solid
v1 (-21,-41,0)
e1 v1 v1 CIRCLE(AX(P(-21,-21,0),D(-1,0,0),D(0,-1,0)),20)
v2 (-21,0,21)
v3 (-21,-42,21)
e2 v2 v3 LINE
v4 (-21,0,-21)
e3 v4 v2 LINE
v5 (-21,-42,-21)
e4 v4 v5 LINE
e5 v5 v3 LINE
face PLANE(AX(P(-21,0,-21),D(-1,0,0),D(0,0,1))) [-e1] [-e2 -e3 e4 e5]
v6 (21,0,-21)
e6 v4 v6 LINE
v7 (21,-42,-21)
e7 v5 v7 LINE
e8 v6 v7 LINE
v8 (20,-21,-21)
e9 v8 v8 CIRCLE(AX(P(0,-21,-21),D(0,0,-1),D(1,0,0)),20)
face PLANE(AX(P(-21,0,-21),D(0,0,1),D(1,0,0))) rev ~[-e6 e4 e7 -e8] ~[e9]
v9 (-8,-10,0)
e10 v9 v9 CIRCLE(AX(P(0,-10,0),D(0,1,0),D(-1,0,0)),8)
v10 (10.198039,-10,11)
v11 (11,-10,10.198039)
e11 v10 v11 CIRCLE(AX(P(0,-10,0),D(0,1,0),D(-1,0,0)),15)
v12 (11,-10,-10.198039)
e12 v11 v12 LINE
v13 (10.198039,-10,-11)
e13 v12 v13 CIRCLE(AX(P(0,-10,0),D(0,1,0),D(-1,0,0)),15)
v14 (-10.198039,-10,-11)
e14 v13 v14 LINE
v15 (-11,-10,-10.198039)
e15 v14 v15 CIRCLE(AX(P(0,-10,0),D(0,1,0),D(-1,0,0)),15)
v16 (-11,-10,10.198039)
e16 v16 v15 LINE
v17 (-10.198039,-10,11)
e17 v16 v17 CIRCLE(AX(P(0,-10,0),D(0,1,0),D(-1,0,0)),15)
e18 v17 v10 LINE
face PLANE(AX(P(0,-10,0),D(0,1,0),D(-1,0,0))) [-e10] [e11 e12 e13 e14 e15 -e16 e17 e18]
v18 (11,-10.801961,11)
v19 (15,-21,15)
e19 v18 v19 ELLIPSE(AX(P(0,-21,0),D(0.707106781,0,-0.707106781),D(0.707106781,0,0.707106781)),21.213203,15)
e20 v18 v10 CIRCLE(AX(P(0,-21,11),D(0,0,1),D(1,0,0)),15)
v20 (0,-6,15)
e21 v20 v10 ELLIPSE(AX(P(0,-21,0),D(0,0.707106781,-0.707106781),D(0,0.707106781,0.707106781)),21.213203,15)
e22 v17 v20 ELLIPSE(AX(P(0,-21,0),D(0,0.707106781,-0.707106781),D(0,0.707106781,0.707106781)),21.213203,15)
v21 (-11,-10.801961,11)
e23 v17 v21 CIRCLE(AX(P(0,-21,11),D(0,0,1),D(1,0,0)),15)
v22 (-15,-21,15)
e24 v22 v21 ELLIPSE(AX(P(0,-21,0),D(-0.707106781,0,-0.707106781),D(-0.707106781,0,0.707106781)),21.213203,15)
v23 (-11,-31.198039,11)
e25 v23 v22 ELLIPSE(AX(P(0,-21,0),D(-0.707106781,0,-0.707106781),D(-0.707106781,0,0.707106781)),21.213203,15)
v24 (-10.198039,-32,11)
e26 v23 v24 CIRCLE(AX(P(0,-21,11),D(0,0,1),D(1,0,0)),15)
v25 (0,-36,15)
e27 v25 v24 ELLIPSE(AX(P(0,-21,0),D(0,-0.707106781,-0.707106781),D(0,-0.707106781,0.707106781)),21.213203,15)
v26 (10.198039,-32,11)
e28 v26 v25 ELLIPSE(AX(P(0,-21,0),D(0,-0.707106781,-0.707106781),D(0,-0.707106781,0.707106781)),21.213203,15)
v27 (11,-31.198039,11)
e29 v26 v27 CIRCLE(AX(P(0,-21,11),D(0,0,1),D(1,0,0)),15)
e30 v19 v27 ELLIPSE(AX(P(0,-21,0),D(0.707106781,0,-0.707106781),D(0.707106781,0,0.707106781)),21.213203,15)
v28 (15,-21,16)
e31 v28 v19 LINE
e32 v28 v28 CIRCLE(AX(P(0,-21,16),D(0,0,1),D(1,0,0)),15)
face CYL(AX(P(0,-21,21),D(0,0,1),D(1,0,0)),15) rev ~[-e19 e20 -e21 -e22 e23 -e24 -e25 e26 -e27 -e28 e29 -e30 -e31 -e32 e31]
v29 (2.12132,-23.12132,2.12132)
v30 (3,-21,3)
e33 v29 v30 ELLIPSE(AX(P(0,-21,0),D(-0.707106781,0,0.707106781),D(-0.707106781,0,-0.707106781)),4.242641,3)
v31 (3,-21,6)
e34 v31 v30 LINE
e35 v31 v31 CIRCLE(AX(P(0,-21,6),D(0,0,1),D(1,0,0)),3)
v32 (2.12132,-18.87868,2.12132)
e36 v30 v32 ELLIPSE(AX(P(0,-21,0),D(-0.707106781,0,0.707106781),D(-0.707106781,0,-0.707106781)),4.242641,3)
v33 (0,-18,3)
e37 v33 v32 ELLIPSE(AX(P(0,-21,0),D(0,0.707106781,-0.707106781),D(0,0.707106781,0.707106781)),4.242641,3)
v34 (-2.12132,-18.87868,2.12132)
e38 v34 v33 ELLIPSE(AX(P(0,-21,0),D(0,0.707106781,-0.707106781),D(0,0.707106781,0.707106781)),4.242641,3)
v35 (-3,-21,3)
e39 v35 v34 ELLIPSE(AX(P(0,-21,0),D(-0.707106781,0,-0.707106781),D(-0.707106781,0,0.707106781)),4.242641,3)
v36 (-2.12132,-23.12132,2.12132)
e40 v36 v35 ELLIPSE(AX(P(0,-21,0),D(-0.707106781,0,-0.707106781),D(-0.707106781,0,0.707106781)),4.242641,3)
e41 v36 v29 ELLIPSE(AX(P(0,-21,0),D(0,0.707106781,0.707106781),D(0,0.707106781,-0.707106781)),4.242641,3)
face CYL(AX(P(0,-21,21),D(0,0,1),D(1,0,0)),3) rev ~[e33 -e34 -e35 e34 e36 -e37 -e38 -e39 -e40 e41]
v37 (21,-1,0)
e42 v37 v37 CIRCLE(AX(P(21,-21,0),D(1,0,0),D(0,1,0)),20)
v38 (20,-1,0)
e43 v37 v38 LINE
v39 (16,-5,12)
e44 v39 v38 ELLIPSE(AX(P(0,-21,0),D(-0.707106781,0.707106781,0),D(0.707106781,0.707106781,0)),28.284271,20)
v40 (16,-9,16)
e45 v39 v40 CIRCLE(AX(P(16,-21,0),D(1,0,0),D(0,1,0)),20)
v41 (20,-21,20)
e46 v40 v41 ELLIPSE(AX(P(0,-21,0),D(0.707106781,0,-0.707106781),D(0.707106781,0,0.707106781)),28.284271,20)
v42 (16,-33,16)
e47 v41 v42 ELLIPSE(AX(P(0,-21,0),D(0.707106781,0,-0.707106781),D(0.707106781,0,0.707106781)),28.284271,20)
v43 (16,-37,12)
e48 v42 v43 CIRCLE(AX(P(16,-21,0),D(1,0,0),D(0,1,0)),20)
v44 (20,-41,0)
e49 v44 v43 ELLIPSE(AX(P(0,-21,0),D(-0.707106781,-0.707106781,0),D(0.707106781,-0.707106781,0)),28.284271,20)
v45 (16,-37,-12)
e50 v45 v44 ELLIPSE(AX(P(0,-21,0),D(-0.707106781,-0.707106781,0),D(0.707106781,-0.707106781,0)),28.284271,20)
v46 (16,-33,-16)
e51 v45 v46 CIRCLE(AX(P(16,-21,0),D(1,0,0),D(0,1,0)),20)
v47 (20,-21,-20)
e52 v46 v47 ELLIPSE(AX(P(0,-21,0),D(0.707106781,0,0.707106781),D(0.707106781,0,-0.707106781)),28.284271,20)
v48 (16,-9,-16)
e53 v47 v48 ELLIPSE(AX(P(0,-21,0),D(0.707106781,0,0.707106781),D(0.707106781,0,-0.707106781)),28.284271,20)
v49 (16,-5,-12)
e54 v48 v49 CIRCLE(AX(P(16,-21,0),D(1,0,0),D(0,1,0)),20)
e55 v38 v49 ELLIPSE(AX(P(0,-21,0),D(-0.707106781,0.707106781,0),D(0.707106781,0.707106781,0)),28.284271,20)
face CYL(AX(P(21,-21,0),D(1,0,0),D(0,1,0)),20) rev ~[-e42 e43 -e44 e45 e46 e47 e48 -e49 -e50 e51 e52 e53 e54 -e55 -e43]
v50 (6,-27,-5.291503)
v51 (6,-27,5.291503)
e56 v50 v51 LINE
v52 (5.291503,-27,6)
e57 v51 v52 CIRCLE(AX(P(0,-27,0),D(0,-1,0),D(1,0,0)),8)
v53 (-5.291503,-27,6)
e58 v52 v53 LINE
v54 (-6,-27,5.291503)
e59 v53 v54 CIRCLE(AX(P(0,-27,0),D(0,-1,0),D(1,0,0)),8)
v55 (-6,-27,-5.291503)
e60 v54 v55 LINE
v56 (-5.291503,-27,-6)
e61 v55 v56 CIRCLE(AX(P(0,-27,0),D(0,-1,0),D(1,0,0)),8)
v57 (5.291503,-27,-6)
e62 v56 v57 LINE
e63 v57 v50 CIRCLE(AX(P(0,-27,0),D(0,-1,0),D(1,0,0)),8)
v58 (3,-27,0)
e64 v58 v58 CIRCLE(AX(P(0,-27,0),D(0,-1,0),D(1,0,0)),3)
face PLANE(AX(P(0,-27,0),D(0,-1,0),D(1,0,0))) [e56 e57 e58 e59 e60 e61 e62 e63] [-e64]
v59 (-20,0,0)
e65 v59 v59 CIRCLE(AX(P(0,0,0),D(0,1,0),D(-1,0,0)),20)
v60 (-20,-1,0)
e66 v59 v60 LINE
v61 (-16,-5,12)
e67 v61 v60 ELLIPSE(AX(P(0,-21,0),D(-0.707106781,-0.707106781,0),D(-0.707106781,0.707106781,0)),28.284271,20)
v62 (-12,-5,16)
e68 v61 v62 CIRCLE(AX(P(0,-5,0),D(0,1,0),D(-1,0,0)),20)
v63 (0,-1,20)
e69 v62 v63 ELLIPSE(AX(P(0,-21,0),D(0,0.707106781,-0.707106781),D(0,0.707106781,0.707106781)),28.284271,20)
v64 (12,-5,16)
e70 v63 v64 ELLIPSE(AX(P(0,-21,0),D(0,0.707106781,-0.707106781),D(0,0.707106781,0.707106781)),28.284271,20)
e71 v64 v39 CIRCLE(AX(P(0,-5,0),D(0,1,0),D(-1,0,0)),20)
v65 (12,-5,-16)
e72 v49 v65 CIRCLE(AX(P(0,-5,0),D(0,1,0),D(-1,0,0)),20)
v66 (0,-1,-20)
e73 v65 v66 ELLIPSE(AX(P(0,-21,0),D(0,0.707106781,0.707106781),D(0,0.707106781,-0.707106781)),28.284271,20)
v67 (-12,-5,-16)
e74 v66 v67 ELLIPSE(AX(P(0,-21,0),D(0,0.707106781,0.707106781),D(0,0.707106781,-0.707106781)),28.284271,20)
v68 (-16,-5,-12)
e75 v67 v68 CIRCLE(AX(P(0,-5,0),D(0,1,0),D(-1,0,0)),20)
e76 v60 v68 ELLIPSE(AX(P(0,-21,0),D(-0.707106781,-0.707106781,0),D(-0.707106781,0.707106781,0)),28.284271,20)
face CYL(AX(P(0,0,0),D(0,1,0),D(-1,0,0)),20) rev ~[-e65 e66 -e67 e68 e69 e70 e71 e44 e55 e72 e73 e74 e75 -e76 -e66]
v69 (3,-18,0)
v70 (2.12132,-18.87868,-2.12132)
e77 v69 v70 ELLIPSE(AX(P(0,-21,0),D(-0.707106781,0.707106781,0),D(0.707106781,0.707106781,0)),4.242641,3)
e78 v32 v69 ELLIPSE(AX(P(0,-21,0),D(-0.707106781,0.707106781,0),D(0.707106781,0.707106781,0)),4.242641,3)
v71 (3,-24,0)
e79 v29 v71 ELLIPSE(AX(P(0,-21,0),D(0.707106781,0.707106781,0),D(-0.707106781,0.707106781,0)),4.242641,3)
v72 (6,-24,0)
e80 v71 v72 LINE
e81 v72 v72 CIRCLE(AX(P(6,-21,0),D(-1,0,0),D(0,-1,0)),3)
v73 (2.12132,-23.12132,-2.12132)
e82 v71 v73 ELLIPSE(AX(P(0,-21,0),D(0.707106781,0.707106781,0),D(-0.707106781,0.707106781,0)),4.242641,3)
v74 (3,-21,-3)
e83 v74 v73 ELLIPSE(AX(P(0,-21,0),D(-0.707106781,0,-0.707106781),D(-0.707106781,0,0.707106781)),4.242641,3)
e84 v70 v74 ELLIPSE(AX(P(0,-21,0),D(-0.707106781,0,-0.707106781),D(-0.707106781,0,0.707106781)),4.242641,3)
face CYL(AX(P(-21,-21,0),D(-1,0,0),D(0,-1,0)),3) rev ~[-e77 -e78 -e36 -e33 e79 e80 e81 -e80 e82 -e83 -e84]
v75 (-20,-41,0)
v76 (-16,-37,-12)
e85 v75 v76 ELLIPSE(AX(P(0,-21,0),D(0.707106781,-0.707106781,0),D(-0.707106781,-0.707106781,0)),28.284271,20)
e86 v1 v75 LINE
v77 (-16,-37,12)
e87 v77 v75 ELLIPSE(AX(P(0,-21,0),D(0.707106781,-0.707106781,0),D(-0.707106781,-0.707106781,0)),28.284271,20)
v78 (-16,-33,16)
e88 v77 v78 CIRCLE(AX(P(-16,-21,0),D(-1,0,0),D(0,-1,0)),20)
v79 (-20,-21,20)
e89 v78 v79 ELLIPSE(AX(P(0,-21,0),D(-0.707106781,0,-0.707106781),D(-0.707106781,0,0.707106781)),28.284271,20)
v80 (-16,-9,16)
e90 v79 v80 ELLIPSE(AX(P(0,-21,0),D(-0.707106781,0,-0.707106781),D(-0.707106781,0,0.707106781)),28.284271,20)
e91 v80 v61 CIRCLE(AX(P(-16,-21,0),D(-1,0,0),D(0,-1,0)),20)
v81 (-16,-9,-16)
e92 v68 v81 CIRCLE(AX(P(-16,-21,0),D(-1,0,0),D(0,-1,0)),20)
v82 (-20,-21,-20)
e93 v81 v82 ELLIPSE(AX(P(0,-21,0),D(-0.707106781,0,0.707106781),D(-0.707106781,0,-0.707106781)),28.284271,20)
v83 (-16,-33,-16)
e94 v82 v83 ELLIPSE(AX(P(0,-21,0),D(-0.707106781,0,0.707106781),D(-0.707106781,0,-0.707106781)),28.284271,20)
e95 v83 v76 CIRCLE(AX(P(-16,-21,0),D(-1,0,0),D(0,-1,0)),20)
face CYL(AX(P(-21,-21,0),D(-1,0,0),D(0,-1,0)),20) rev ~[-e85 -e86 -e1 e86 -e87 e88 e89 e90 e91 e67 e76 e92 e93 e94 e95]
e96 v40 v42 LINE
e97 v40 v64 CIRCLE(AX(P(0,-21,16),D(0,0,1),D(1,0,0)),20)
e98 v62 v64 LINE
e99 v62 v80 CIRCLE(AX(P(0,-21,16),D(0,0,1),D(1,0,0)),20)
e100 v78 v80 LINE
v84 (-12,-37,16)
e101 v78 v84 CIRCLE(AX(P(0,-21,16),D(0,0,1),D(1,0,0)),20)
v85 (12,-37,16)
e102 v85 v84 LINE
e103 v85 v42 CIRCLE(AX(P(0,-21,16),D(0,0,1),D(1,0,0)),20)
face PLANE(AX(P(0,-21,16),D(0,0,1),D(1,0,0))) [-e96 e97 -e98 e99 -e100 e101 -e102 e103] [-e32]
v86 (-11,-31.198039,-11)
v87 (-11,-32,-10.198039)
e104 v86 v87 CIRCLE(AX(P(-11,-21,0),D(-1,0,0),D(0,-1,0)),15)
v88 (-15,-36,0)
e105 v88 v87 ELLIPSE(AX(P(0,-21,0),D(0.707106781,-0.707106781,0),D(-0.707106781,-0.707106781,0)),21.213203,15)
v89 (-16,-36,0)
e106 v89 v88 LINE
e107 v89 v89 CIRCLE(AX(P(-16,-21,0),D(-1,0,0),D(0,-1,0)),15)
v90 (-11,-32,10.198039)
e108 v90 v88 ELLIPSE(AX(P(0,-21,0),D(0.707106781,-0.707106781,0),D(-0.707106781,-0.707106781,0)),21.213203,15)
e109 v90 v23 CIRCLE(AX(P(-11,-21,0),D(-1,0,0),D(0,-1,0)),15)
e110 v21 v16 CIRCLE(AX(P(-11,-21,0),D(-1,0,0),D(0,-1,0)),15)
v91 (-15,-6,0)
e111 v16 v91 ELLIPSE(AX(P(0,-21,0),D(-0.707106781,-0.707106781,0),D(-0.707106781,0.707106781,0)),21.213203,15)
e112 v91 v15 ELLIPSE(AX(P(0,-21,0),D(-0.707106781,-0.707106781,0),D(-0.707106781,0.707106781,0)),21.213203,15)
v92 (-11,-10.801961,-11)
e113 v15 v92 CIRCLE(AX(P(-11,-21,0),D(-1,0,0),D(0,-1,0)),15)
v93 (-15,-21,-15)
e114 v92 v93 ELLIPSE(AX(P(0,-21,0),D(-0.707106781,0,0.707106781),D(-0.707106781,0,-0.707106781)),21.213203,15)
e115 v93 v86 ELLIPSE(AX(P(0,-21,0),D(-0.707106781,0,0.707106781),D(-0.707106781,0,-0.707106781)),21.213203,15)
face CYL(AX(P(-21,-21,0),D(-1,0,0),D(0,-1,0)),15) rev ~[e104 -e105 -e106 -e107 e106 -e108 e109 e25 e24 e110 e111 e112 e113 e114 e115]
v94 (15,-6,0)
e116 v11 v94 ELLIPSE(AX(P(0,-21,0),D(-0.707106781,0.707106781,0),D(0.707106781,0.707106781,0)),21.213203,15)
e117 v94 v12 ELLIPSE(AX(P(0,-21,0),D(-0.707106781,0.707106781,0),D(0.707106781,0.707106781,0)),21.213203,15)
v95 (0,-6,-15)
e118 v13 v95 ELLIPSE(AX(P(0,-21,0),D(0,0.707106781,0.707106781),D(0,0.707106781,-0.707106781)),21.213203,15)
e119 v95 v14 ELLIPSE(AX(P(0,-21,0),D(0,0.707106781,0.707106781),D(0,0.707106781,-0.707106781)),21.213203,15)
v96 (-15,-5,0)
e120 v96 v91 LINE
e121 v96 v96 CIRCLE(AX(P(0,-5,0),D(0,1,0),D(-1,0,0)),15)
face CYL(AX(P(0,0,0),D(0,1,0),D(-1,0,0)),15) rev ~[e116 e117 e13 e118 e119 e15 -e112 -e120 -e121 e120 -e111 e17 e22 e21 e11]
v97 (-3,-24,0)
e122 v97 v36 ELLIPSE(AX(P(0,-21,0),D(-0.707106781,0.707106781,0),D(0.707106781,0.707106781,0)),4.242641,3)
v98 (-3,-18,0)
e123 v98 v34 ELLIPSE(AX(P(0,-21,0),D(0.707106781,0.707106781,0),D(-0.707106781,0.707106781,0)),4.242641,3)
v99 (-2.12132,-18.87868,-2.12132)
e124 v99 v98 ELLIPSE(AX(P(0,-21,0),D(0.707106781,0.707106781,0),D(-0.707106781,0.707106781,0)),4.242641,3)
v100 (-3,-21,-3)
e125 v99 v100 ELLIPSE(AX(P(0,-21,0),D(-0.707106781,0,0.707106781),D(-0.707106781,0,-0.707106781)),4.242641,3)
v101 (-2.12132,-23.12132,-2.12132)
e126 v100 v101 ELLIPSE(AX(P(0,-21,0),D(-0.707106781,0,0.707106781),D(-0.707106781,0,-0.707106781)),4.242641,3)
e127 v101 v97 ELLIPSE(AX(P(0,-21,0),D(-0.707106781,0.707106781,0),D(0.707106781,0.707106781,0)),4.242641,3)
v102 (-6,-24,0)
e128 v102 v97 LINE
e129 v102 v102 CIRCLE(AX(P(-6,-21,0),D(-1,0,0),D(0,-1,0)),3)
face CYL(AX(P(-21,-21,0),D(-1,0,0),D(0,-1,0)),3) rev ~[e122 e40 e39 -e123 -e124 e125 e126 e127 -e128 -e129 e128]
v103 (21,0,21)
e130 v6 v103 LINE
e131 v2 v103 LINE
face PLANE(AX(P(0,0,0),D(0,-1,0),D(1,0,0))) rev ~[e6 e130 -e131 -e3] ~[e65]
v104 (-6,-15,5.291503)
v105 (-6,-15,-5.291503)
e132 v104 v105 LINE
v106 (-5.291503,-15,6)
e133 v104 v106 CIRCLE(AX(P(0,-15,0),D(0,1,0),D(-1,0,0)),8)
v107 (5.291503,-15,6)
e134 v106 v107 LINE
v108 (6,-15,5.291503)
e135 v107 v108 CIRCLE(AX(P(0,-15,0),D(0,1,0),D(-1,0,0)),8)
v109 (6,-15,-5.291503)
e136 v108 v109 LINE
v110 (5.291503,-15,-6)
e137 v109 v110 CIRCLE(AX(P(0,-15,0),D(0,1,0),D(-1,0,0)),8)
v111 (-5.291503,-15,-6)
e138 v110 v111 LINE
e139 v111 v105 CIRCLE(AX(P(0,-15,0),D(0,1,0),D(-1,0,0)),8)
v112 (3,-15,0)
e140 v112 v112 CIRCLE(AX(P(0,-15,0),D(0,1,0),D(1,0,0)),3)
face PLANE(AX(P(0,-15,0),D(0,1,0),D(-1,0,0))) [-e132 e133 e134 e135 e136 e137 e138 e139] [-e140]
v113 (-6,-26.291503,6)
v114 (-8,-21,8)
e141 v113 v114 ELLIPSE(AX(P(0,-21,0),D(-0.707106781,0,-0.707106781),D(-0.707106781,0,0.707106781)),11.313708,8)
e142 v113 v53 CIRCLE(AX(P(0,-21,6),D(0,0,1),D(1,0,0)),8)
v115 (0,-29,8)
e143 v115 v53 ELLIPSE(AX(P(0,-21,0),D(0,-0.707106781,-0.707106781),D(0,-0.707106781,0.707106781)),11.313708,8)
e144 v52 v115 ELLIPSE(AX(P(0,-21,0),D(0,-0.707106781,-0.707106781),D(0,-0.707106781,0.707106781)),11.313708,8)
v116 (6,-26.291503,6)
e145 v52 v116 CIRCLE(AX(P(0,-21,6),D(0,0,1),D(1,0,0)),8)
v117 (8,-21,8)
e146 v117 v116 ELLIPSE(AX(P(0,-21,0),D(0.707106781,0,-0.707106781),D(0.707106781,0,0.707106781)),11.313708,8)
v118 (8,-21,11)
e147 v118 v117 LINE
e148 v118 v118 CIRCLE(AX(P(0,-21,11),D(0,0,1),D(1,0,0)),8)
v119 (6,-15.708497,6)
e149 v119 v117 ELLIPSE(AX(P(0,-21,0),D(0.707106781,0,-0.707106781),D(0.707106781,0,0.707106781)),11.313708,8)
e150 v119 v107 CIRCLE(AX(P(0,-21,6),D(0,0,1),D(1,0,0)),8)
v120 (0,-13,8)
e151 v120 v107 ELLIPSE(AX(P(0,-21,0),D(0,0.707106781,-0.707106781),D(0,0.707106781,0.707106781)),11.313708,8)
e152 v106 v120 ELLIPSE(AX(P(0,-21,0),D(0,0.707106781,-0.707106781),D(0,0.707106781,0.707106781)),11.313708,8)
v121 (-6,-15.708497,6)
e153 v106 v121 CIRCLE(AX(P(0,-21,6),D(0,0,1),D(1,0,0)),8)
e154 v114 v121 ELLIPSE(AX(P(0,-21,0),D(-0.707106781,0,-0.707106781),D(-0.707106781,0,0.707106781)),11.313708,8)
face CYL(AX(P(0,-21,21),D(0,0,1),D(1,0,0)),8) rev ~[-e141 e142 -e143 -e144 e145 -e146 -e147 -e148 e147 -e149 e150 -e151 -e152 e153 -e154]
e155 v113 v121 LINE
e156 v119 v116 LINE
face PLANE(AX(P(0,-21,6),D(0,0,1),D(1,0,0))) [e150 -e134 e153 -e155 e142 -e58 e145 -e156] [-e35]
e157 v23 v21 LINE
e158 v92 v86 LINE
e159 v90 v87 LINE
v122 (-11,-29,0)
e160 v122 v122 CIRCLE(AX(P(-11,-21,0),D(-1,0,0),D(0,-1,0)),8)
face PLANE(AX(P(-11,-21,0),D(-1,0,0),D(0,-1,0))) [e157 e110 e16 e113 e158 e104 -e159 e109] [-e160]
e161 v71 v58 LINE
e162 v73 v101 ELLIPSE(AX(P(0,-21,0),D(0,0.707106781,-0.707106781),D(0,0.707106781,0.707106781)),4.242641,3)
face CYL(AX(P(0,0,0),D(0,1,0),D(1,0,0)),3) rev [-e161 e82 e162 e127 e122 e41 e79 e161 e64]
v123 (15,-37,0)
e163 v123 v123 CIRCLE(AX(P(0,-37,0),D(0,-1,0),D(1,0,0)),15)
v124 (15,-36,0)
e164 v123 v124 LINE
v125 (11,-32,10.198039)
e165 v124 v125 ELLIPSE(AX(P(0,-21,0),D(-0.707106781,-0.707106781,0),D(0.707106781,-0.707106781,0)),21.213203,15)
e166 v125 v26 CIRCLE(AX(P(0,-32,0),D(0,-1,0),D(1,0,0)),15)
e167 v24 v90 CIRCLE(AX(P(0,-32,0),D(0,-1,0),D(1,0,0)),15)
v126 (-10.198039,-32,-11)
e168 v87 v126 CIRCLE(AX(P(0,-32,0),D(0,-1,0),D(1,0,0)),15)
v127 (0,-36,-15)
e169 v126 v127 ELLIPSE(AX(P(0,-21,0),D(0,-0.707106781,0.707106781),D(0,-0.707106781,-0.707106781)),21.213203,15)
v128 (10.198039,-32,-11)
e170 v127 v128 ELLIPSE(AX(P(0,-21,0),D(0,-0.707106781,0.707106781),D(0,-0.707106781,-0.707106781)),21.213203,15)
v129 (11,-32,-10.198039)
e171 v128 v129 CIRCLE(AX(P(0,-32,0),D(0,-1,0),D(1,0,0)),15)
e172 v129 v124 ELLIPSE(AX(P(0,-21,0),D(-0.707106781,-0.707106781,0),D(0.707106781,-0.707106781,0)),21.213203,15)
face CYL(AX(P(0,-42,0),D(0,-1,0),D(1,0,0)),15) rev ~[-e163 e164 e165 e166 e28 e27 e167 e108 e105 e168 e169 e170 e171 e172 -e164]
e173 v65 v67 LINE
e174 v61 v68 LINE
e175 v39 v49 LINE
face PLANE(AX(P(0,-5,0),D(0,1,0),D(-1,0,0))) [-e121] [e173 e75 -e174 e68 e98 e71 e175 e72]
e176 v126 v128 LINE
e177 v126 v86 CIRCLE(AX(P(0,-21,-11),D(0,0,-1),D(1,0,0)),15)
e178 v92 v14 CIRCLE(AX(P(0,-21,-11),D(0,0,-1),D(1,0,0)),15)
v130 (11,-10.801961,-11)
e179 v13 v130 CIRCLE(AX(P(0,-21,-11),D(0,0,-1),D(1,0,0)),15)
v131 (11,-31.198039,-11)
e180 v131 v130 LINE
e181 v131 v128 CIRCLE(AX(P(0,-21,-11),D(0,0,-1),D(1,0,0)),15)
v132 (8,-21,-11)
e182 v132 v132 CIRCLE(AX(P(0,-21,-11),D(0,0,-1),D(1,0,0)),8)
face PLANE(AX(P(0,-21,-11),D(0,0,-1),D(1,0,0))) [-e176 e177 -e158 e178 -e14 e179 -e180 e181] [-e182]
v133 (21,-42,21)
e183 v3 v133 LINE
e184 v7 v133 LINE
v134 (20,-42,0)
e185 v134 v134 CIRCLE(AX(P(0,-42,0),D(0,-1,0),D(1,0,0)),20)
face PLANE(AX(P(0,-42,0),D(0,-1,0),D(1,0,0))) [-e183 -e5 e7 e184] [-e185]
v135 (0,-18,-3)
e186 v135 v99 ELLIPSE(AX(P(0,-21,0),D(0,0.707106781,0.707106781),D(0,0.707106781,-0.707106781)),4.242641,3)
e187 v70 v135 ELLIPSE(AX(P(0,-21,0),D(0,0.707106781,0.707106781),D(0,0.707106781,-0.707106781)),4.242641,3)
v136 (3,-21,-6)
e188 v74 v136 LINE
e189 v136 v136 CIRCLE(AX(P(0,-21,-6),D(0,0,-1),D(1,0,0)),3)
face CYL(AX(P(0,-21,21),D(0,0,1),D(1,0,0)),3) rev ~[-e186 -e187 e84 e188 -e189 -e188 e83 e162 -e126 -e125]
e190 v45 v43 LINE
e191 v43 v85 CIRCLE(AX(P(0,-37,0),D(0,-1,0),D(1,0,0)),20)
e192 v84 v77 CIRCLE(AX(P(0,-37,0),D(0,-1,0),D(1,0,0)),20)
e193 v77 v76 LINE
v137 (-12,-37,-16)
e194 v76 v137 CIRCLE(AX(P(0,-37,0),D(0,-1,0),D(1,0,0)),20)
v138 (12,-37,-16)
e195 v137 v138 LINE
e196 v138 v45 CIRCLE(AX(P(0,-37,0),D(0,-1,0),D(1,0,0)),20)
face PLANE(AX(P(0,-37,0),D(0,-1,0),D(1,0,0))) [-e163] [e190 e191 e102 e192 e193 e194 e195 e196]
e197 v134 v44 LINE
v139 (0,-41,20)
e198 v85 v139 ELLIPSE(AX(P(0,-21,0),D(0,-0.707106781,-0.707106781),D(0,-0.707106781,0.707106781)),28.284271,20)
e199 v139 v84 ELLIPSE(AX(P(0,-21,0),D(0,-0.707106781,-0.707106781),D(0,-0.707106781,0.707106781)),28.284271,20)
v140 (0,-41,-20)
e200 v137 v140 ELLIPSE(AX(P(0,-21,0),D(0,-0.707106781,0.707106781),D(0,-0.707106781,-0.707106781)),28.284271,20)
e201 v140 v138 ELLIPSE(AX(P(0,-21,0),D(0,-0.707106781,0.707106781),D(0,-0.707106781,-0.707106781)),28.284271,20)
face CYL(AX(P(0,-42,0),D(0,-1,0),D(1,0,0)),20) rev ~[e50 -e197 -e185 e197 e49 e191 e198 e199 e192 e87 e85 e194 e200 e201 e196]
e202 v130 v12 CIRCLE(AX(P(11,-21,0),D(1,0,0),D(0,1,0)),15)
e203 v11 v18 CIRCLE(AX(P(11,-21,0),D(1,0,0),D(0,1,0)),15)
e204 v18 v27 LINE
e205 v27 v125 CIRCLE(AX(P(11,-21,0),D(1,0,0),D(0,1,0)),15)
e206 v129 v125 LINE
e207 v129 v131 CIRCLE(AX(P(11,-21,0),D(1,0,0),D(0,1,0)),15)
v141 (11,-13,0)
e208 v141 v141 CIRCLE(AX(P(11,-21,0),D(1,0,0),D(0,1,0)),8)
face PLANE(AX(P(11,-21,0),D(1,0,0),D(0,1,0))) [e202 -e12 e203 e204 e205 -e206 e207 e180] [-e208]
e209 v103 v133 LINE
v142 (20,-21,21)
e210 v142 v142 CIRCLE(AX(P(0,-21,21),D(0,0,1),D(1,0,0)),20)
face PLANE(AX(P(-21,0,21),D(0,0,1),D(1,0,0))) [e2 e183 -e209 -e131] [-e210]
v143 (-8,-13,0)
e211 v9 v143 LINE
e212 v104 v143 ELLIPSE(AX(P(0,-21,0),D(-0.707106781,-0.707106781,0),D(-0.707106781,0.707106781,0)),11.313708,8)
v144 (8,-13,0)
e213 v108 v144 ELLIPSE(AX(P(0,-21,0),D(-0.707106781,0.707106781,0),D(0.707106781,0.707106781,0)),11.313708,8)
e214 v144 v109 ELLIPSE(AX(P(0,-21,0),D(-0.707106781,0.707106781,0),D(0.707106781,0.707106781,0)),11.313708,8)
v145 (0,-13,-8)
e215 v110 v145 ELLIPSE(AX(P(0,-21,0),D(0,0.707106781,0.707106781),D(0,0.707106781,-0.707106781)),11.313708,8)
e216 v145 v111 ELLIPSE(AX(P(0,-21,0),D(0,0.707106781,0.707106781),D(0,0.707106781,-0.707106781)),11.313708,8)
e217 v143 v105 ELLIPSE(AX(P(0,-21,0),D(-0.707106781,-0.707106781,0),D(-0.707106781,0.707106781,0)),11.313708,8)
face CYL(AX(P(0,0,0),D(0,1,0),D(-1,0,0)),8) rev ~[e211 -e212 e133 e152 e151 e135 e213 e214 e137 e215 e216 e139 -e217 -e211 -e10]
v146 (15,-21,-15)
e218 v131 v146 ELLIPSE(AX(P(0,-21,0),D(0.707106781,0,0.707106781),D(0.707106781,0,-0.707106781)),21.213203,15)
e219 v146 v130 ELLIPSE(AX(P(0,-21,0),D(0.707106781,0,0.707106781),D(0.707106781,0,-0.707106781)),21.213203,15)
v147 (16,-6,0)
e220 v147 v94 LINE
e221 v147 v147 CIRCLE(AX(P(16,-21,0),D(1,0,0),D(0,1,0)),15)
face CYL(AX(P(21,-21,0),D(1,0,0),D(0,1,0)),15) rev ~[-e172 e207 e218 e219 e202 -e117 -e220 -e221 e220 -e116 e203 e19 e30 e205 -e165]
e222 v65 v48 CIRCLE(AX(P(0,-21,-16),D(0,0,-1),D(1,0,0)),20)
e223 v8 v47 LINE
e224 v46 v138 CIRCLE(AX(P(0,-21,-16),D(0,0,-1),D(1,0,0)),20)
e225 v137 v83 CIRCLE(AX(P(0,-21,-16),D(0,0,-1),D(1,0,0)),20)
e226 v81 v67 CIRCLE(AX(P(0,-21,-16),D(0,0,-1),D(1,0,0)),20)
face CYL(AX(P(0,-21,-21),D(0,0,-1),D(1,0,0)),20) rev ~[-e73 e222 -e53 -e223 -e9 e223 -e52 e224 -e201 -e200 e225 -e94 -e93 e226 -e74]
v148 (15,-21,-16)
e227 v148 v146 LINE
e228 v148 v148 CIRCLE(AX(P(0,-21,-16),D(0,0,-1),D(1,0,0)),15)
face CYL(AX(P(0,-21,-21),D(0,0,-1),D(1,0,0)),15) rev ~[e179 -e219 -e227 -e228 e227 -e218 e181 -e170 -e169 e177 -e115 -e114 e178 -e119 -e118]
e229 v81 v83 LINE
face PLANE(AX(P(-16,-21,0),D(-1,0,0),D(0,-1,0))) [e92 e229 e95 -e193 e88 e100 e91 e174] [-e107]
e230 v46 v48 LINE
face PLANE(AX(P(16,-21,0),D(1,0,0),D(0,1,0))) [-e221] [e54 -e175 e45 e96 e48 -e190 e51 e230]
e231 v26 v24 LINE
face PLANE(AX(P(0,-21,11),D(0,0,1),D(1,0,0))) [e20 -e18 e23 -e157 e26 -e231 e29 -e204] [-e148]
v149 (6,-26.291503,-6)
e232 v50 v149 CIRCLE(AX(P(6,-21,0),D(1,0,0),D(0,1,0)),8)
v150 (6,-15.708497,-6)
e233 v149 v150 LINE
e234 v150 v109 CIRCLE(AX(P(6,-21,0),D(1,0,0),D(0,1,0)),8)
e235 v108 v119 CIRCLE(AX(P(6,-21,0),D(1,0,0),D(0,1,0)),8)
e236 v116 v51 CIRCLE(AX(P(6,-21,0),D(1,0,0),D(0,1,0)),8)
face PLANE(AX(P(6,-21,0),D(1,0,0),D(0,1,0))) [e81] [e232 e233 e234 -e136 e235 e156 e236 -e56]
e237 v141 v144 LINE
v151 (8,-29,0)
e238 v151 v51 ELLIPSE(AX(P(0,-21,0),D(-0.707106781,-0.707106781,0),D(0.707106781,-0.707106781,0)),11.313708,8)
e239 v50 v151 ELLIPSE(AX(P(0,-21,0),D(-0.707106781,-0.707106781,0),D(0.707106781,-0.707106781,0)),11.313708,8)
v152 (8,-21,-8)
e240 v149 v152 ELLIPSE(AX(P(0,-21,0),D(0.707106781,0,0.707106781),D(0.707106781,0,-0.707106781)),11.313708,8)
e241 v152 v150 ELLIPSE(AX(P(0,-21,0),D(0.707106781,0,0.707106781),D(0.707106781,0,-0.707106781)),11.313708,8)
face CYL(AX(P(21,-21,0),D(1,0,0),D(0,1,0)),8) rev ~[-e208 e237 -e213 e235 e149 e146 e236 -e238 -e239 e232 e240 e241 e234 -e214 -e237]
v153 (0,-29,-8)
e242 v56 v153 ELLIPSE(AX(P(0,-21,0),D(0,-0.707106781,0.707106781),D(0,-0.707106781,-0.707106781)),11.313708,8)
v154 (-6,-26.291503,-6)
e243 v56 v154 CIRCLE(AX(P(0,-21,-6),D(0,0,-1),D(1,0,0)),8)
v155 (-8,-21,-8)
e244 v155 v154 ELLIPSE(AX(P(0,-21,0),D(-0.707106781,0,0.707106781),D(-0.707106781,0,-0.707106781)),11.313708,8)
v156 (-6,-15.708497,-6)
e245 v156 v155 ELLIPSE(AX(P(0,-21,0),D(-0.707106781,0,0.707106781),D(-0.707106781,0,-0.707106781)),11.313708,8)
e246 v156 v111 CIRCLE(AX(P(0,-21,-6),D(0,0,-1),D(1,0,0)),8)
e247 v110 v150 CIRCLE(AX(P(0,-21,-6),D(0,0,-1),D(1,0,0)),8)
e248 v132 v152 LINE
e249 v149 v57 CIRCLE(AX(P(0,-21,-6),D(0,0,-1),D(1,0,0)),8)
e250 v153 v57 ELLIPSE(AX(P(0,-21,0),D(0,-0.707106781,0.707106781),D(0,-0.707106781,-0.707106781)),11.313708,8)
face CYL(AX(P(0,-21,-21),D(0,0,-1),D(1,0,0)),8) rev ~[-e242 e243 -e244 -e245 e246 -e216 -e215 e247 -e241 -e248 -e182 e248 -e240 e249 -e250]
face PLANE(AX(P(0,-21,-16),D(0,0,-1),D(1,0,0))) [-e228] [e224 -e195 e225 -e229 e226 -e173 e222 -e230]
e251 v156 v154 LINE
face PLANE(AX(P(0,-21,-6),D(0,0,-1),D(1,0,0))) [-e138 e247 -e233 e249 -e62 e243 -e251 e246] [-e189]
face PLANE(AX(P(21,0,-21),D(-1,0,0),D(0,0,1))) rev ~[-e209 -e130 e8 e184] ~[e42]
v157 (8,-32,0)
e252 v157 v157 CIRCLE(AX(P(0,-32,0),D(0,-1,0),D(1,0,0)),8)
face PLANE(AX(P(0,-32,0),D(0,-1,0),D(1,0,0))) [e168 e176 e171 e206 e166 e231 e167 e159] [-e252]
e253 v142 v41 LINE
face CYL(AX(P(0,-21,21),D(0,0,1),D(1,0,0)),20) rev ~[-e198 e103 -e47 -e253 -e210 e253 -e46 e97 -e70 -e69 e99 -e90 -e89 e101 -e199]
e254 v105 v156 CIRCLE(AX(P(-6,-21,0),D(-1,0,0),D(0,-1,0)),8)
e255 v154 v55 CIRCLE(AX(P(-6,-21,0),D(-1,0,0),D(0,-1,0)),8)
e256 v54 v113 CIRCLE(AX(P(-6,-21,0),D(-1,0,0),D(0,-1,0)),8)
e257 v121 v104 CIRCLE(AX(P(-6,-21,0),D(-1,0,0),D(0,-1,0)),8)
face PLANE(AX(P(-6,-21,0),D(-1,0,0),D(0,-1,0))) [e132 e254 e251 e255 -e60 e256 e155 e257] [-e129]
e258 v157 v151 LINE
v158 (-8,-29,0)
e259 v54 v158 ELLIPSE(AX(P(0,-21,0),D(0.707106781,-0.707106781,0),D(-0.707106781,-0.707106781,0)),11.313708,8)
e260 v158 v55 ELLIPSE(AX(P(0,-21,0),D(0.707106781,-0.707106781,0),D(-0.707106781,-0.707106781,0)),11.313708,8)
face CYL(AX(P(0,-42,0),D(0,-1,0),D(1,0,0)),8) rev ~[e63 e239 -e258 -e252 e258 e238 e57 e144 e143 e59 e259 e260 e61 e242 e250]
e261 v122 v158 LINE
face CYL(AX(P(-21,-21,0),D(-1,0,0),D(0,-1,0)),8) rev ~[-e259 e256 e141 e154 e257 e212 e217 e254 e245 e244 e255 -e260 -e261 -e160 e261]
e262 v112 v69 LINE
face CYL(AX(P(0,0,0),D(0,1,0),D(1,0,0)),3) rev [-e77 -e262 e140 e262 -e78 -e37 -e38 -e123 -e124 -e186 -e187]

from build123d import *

# Parameters (mm, degrees)
F0_W      = 42
F0_H      = 42
F0_R      = 3
F1_DEPTH  = 42
F2_R      = 20
F2_R_2    = 15
F3_DEPTH  = 5
F2_R_3    = 8
F4_DEPTH  = 10
F2_R_4    = 3
F5_DEPTH  = 15
F6_R      = 20
F6_R_2    = 15
F7_DEPTH  = 5
F6_R_3    = 8
F8_DEPTH  = 10
F6_R_4    = 3
F9_DEPTH  = 15
F10_DEPTH = 42
F11_R     = 20
F11_R_2   = 15
F12_DEPTH = 5
F11_R_3   = 8
F13_DEPTH = 10
F11_R_4   = 3
F14_DEPTH = 15
F15_R     = 20
F15_R_2   = 15
F16_DEPTH = 5
F15_R_3   = 8
F17_DEPTH = 10
F15_R_4   = 3
F18_DEPTH = 15
F19_R     = 20
F19_R_2   = 15
F20_DEPTH = 5
F19_R_3   = 8
F21_DEPTH = 10
F19_R_4   = 3
F22_DEPTH = 15
F23_DEPTH = 42
F24_R     = 20
F24_R_2   = 15
F25_DEPTH = 5
F24_R_3   = 8
F26_DEPTH = 10
F24_R_4   = 3
F27_DEPTH = 15


with BuildPart() as f1:
    # F0 (on Front) → F1 (new body)
    with BuildSketch(Plane.XZ):
        Rectangle(F0_W, F0_H)
        Circle(F0_R, mode=Mode.SUBTRACT)
    extrude(amount=F1_DEPTH)

    # F2 (on face) → F3 (cut)
    with BuildSketch(Plane.XZ.offset(42)):
        Circle(F2_R)
        Circle(F2_R_2, mode=Mode.SUBTRACT)
    extrude(amount=-F3_DEPTH, mode=Mode.SUBTRACT)

    # F2 (on face) → F4 (cut)
    with BuildSketch(Plane.XZ.offset(42)):
        Circle(F2_R_2)
        Circle(F2_R_3, mode=Mode.SUBTRACT)
    extrude(amount=-F4_DEPTH, mode=Mode.SUBTRACT)

    # F2 (on face) → F5 (cut)
    with BuildSketch(Plane.XZ.offset(42)):
        Circle(F2_R_3)
        Circle(F2_R_4, mode=Mode.SUBTRACT)
    extrude(amount=-F5_DEPTH, mode=Mode.SUBTRACT)

    # F6 (on face) → F7 (cut)
    with BuildSketch(Plane(origin=(-21, 0, 0), x_dir=(0, -1, 0), z_dir=(-1, 0, 0))):
        with Locations((21, 0)):
            Circle(F6_R)
        with Locations((21, 0)):
            Circle(F6_R_2, mode=Mode.SUBTRACT)
    extrude(amount=-F7_DEPTH, mode=Mode.SUBTRACT)

    # F6 (on face) → F8 (cut)
    with BuildSketch(Plane(origin=(-21, 0, 0), x_dir=(0, -1, 0), z_dir=(-1, 0, 0))):
        with Locations((21, 0)):
            Circle(F6_R_2)
        with Locations((21, 0)):
            Circle(F6_R_3, mode=Mode.SUBTRACT)
    extrude(amount=-F8_DEPTH, mode=Mode.SUBTRACT)

    # F6 (on face) → F9 (cut)
    with BuildSketch(Plane(origin=(-21, 0, 0), x_dir=(0, -1, 0), z_dir=(-1, 0, 0))):
        with Locations((21, 0)):
            Circle(F6_R_3)
        with Locations((21, 0)):
            Circle(F6_R_4, mode=Mode.SUBTRACT)
    extrude(amount=-F9_DEPTH, mode=Mode.SUBTRACT)

    # F6 (on face) → F10 (cut)
    with BuildSketch(Plane(origin=(-21, 0, 0), x_dir=(0, -1, 0), z_dir=(-1, 0, 0))):
        with Locations((21, 0)):
            Circle(F6_R_4)
    extrude(amount=-F10_DEPTH, mode=Mode.SUBTRACT)

    # F11 (on face) → F12 (cut)
    with BuildSketch(Plane(origin=(0, 0, 0), x_dir=(-1, 0, 0), z_dir=(0, 1, 0))):
        Circle(F11_R)
        Circle(F11_R_2, mode=Mode.SUBTRACT)
    extrude(amount=-F12_DEPTH, mode=Mode.SUBTRACT)

    # F11 (on face) → F13 (cut)
    with BuildSketch(Plane(origin=(0, 0, 0), x_dir=(-1, 0, 0), z_dir=(0, 1, 0))):
        Circle(F11_R_2)
        Circle(F11_R_3, mode=Mode.SUBTRACT)
    extrude(amount=-F13_DEPTH, mode=Mode.SUBTRACT)

    # F11 (on face) → F14 (cut)
    with BuildSketch(Plane(origin=(0, 0, 0), x_dir=(-1, 0, 0), z_dir=(0, 1, 0))):
        Circle(F11_R_3)
        Circle(F11_R_4, mode=Mode.SUBTRACT)
    extrude(amount=-F14_DEPTH, mode=Mode.SUBTRACT)

    # F15 (on face) → F16 (cut)
    with BuildSketch(Plane.YZ.offset(21)):
        with Locations((-21, 0)):
            Circle(F15_R)
        with Locations((-21, 0)):
            Circle(F15_R_2, mode=Mode.SUBTRACT)
    extrude(amount=-F16_DEPTH, mode=Mode.SUBTRACT)

    # F15 (on face) → F17 (cut)
    with BuildSketch(Plane.YZ.offset(21)):
        with Locations((-21, 0)):
            Circle(F15_R_2)
        with Locations((-21, 0)):
            Circle(F15_R_3, mode=Mode.SUBTRACT)
    extrude(amount=-F17_DEPTH, mode=Mode.SUBTRACT)

    # F15 (on face) → F18 (cut)
    with BuildSketch(Plane.YZ.offset(21)):
        with Locations((-21, 0)):
            Circle(F15_R_3)
        with Locations((-21, 0)):
            Circle(F15_R_4, mode=Mode.SUBTRACT)
    extrude(amount=-F18_DEPTH, mode=Mode.SUBTRACT)

    # F19 (on face) → F20 (cut)
    with BuildSketch(Plane.XY.offset(21)):
        with Locations((0, -21)):
            Circle(F19_R)
        with Locations((0, -21)):
            Circle(F19_R_2, mode=Mode.SUBTRACT)
    extrude(amount=-F20_DEPTH, mode=Mode.SUBTRACT)

    # F19 (on face) → F21 (cut)
    with BuildSketch(Plane.XY.offset(21)):
        with Locations((0, -21)):
            Circle(F19_R_2)
        with Locations((0, -21)):
            Circle(F19_R_3, mode=Mode.SUBTRACT)
    extrude(amount=-F21_DEPTH, mode=Mode.SUBTRACT)

    # F19 (on face) → F22 (cut)
    with BuildSketch(Plane.XY.offset(21)):
        with Locations((0, -21)):
            Circle(F19_R_3)
        with Locations((0, -21)):
            Circle(F19_R_4, mode=Mode.SUBTRACT)
    extrude(amount=-F22_DEPTH, mode=Mode.SUBTRACT)

    # F19 (on face) → F23 (cut)
    with BuildSketch(Plane.XY.offset(21)):
        with Locations((0, -21)):
            Circle(F19_R_4)
    extrude(amount=-F23_DEPTH, mode=Mode.SUBTRACT)

    # F24 (on face) → F25 (cut)
    with BuildSketch(Plane(origin=(0, 0, -21), x_dir=(1, 0, 0), z_dir=(0, 0, -1))):
        with Locations((0, 21)):
            Circle(F24_R)
        with Locations((0, 21)):
            Circle(F24_R_2, mode=Mode.SUBTRACT)
    extrude(amount=-F25_DEPTH, mode=Mode.SUBTRACT)

    # F24 (on face) → F26 (cut)
    with BuildSketch(Plane(origin=(0, 0, -21), x_dir=(1, 0, 0), z_dir=(0, 0, -1))):
        with Locations((0, 21)):
            Circle(F24_R_2)
        with Locations((0, 21)):
            Circle(F24_R_3, mode=Mode.SUBTRACT)
    extrude(amount=-F26_DEPTH, mode=Mode.SUBTRACT)

    # F24 (on face) → F27 (cut)
    with BuildSketch(Plane(origin=(0, 0, -21), x_dir=(1, 0, 0), z_dir=(0, 0, -1))):
        with Locations((0, 21)):
            Circle(F24_R_3)
        with Locations((0, 21)):
            Circle(F24_R_4, mode=Mode.SUBTRACT)
    extrude(amount=-F27_DEPTH, mode=Mode.SUBTRACT)


solid = f1.part
